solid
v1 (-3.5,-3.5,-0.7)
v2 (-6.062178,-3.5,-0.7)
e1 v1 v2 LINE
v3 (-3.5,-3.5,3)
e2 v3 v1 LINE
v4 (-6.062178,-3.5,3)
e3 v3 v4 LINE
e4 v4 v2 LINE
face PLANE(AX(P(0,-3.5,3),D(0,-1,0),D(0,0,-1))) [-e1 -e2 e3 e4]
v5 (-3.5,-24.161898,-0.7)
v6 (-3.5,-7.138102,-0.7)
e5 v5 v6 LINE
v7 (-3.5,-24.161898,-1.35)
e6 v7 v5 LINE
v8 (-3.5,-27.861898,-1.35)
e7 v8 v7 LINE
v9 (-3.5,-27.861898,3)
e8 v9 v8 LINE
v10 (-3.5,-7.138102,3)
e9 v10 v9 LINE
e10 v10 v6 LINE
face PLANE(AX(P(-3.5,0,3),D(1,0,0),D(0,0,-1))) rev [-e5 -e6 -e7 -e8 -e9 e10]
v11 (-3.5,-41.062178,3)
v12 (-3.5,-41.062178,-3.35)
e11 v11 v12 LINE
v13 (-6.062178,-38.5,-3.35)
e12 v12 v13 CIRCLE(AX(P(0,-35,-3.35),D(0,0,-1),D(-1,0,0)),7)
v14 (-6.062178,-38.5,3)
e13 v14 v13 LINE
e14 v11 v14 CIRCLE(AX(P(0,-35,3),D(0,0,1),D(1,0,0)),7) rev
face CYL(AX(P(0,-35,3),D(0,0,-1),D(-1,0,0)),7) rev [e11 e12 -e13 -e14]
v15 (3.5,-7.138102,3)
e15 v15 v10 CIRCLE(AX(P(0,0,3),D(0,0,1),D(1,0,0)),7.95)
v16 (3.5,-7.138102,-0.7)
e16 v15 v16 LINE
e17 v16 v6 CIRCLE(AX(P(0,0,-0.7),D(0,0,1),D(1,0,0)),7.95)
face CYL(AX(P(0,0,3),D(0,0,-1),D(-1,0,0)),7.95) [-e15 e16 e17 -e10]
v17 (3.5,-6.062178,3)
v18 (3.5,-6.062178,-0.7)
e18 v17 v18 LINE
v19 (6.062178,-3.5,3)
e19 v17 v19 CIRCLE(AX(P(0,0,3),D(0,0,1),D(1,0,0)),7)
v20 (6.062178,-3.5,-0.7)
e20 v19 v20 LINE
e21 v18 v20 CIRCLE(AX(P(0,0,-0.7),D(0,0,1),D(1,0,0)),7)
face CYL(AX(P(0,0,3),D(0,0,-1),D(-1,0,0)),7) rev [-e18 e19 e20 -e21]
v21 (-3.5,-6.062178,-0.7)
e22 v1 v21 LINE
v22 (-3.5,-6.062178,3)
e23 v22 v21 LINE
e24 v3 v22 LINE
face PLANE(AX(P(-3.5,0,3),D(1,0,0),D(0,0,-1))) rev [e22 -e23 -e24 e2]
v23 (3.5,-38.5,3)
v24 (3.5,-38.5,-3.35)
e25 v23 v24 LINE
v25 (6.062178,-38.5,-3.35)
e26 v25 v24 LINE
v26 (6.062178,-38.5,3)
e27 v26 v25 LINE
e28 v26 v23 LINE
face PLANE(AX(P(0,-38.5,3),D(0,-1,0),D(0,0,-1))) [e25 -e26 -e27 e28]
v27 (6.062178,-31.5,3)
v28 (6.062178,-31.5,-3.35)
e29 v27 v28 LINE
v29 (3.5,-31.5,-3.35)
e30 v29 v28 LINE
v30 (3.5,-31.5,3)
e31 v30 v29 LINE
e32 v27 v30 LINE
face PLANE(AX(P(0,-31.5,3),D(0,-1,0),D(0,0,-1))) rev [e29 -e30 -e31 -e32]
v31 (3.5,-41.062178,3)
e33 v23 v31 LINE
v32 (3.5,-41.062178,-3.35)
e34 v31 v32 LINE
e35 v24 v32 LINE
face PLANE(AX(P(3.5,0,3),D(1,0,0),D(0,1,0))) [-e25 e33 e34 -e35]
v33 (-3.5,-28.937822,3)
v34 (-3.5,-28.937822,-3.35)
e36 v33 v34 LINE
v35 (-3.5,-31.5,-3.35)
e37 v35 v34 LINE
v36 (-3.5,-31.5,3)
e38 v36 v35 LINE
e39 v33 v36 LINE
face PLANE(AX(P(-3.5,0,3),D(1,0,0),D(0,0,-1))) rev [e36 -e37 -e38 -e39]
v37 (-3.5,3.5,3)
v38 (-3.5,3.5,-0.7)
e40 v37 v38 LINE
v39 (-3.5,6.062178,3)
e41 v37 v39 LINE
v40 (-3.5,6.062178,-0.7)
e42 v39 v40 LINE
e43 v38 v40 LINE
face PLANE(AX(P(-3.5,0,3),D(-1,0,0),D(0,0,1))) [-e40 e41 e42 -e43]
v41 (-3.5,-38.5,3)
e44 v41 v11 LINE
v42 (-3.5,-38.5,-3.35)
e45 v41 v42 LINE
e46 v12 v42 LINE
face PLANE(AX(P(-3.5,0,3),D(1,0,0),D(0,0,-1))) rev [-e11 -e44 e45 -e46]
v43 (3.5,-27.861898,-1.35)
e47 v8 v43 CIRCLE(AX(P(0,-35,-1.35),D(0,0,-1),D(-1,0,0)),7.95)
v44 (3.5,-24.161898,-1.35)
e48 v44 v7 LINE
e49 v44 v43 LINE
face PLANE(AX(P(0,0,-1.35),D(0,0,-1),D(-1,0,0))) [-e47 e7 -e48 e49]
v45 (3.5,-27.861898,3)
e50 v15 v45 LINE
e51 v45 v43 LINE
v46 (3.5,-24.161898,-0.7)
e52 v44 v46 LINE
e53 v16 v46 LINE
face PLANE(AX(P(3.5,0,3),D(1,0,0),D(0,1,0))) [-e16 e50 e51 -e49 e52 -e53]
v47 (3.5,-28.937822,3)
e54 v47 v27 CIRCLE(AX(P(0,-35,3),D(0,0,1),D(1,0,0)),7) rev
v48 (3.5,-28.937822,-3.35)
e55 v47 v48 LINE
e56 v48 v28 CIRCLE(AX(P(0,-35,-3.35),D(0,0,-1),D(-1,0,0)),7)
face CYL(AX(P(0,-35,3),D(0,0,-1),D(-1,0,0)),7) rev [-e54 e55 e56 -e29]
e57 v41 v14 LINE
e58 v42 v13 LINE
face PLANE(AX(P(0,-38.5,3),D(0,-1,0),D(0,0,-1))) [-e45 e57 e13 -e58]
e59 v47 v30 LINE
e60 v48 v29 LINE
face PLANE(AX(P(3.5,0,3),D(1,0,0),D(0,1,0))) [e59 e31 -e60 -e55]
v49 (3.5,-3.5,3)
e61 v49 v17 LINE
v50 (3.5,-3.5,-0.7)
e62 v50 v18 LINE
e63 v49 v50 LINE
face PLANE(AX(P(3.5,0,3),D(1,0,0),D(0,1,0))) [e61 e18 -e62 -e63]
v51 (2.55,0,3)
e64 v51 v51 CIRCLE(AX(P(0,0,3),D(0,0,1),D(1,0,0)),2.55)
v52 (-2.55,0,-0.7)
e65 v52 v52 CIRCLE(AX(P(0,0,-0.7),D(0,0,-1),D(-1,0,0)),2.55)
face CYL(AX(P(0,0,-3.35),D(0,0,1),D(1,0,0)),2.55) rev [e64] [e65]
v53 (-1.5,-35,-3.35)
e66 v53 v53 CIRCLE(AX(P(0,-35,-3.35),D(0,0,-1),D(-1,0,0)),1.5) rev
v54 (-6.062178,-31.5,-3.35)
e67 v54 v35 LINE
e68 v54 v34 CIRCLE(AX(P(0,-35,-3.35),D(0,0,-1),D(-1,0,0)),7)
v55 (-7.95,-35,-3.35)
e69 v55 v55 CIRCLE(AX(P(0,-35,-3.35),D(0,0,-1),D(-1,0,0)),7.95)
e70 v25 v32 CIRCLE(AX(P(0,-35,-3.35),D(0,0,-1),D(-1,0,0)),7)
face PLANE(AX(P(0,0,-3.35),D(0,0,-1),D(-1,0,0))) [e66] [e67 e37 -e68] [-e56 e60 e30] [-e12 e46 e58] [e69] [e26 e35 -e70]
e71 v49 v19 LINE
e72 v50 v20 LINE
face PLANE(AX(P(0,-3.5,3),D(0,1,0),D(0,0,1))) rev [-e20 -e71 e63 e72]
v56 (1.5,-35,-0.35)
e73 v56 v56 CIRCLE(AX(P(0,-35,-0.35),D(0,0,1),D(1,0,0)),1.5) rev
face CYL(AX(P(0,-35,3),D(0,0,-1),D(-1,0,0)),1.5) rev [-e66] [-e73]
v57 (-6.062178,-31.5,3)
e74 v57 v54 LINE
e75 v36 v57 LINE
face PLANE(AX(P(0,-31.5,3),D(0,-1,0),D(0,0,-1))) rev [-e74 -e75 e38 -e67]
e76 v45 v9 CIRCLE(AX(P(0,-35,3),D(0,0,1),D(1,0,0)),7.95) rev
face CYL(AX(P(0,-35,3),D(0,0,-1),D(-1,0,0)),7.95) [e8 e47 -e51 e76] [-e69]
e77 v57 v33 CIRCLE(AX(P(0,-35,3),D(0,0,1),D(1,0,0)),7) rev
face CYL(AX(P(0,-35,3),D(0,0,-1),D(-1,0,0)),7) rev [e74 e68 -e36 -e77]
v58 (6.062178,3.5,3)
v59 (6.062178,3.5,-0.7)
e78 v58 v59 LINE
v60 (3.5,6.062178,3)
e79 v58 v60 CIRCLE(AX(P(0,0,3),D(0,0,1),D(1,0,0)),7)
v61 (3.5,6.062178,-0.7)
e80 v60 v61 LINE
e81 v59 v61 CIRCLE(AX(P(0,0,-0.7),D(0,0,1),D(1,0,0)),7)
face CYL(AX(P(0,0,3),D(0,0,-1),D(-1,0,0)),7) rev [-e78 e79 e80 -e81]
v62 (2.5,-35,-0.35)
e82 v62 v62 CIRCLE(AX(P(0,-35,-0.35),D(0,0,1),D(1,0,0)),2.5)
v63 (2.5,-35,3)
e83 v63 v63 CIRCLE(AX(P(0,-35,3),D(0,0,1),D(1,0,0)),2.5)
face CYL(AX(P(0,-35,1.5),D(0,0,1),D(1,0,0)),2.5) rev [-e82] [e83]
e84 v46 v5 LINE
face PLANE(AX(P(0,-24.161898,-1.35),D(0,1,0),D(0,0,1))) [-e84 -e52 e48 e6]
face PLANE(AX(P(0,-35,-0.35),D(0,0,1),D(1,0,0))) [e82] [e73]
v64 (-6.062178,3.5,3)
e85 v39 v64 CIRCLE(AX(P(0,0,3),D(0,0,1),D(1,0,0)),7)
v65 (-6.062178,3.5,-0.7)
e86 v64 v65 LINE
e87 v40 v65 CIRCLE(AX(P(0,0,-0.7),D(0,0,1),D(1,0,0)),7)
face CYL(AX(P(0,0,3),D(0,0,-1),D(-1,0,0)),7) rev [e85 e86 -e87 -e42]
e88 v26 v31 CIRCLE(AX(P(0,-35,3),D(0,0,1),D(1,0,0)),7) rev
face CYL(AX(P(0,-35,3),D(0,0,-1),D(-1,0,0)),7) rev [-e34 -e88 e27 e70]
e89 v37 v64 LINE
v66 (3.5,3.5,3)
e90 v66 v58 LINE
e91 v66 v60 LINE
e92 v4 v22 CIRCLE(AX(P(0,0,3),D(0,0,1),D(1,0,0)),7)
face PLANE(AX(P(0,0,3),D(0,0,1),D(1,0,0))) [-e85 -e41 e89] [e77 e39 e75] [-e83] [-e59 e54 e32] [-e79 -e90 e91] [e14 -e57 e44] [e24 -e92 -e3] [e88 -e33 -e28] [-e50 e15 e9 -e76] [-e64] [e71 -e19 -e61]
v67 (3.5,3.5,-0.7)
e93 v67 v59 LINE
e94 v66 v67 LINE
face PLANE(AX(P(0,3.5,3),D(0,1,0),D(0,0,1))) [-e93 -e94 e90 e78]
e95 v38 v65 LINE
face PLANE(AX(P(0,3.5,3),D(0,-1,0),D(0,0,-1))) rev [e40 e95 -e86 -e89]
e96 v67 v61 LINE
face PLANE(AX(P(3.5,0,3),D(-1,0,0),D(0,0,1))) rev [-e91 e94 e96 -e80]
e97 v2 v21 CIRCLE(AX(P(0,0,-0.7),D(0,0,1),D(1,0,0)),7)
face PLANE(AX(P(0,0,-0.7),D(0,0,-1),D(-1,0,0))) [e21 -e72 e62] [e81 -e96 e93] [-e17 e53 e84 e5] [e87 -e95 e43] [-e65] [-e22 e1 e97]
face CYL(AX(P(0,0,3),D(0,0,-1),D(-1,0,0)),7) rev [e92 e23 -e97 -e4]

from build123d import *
from build123d.topology import SkipClean

# Parameters (mm, degrees)
SKETCH1_R               = 3.5
SKETCH1_R_2             = 1.5
BOSS_EXTRUDE4_DEPTH     = 3
BOSS_EXTRUDE5_START     = 3
SKETCH3_R               = 1.5
BOSS_EXTRUDE5_DEPTH     = 3
SKETCH4_R               = 2.5
CUT_EXTRUDE1_DEPTH      = 1.5
SKETCH5_R               = 7
CUT_EXTRUDE2_DEPTH      = 2
SKETCH6_R               = 7.95
CUT_EXTRUDE3_DEPTH      = 1
SKETCH7_R               = 2.5
CUT_EXTRUDE4_DEPTH      = 1.85
BOSS_EXTRUDE6_START     = 0.7
SKETCH8_R               = 7.95
SKETCH8_R_2             = 7
BOSS_EXTRUDE6_DEPTH     = 0.7
BOSS_EXTRUDE8_START     = 0.7
SKETCH9_R               = 7.95
SKETCH9_R_2             = 1.5
BOSS_EXTRUDE8_DEPTH     = 0.7
BOSS_EXTRUDE9_START     = 0.7
BOSS_EXTRUDE9_DEPTH     = 0.7
CUT_EXTRUDE5_DEPTH      = 45.603755447
CUT_EXTRUDE5_DEPTH_BACK = 45.603755447
SKETCH11_W              = 3
SKETCH11_H              = 15.9
SKETCH11_W_2            = 2
BOSS_EXTRUDE10_START    = 0.65
BOSS_EXTRUDE10_DEPTH    = 0.65
BOSS_EXTRUDE11_START    = 2.65
SKETCH13_R              = 1.5
BOSS_EXTRUDE11_DEPTH    = 2.65
SKETCH14_R              = 2.55
CUT_EXTRUDE6_DEPTH      = 45.138730158


with BuildPart() as part:
    # Sketch1 → Boss-Extrude4 (new body)
    # profile 1 of 34: a face of its own
    with BuildSketch(Plane.XY):
        with BuildLine():
            Line((-3.5, 3.5), (0, 3.5))
            Line((0, 3.5), (3.5, 3.5))
            Line((3.5, 3.5), (3.5, 6.062177826))
            ThreePointArc((3.5, 6.062177826), (0, 7), (-3.5, 6.062177826))
            Line((-3.5, 6.062177826), (-3.5, 3.5))
        make_face()
    # profile 2 of 34: a face of its own
    with BuildSketch(Plane.XY):
        with BuildLine():
            ThreePointArc((3.5, 6.062177826), (4.949747468, 4.949747468), (6.062177826, 3.5))
            Line((6.062177826, 3.5), (7.138101989, 3.5))
            ThreePointArc((7.138101989, 3.5), (0, 7.95), (-7.138101989, 3.5))
            Line((-7.138101989, 3.5), (-6.062177826, 3.5))
            ThreePointArc((-6.062177826, 3.5), (-4.949747468, 4.949747468), (-3.5, 6.062177826))
            ThreePointArc((-3.5, 6.062177826), (0, 7), (3.5, 6.062177826))
        make_face()
    # profile 3 of 34: a face of its own
    with BuildSketch(Plane.XY):
        with BuildLine():
            Line((3.5, -27.861898011), (3.5, -7.138101989))
            ThreePointArc((3.5, -7.138101989), (0, -7.95), (-3.5, -7.138101989))
            Line((-3.5, -7.138101989), (-3.5, -27.861898011))
            ThreePointArc((-3.5, -27.861898011), (0, -27.05), (3.5, -27.861898011))
        make_face()
    # profile 4 of 34: a face of its own
    with BuildSketch(Plane.XY):
        with BuildLine():
            Line((-6.062177826, -38.5), (-7.138101989, -38.5))
            ThreePointArc((-7.138101989, -38.5), (0, -42.95), (7.138101989, -38.5))
            Line((7.138101989, -38.5), (6.062177826, -38.5))
            ThreePointArc((6.062177826, -38.5), (4.949747468, -39.949747468), (3.5, -41.062177826))
            ThreePointArc((3.5, -41.062177826), (0, -42), (-3.5, -41.062177826))
            ThreePointArc((-3.5, -41.062177826), (-4.949747468, -39.949747468), (-6.062177826, -38.5))
        make_face()
    # profile 5 of 34: a face of its own
    with BuildSketch(Plane.XY):
        with BuildLine():
            Line((3.5, -41.062177826), (3.5, -38.5))
            Line((3.5, -38.5), (0, -38.5))
            Line((0, -38.5), (-3.5, -38.5))
            Line((-3.5, -38.5), (-3.5, -41.062177826))
            ThreePointArc((-3.5, -41.062177826), (0, -42), (3.5, -41.062177826))
        make_face()
    # profile 6 of 34: a face of its own
    with BuildSketch(Plane.XY):
        with BuildLine():
            ThreePointArc((7.95, -35), (7.744366043, -33.203532746), (7.138101989, -31.5))
            Line((7.138101989, -31.5), (6.062177826, -31.5))
            ThreePointArc((6.062177826, -31.5), (6.761480784, -33.188266684), (7, -35))
            ThreePointArc((7, -35), (6.761480784, -36.811733316), (6.062177826, -38.5))
            Line((6.062177826, -38.5), (7.138101989, -38.5))
            ThreePointArc((7.138101989, -38.5), (7.744366043, -36.796467254), (7.95, -35))
        make_face()
    # profile 7 of 34: a face of its own
    with BuildSketch(Plane.XY):
        with BuildLine():
            Line((-6.062177826, -31.5), (-7.138101989, -31.5))
            ThreePointArc((-7.138101989, -31.5), (-7.95, -35), (-7.138101989, -38.5))
            Line((-7.138101989, -38.5), (-6.062177826, -38.5))
            ThreePointArc((-6.062177826, -38.5), (-7, -35), (-6.062177826, -31.5))
        make_face()
    # profile 8 of 34: a face of its own
    with BuildSketch(Plane.XY):
        with BuildLine():
            Line((3.5, -38.5), (3.5, -35))
            ThreePointArc((3.5, -35), (2.474873734, -37.474873734), (0, -38.5))
            Line((0, -38.5), (3.5, -38.5))
        make_face()
    # profile 9 of 34: a face of its own
    with BuildSketch(Plane.XY):
        with BuildLine():
            ThreePointArc((0, -38.5), (-2.474873734, -37.474873734), (-3.5, -35))
            Line((-3.5, -35), (-3.5, -38.5))
            Line((-3.5, -38.5), (0, -38.5))
        make_face()
    # profile 10 of 34: a face of its own
    with BuildSketch(Plane.XY):
        with BuildLine():
            ThreePointArc((7.95, -35), (7.744366043, -33.203532746), (7.138101989, -31.5))
            Line((7.138101989, -31.5), (6.062177826, -31.5))
            ThreePointArc((6.062177826, -31.5), (6.761480784, -33.188266684), (7, -35))
            ThreePointArc((7, -35), (6.761480784, -36.811733316), (6.062177826, -38.5))
            Line((6.062177826, -38.5), (7.138101989, -38.5))
            ThreePointArc((7.138101989, -38.5), (7.744366043, -36.796467254), (7.95, -35))
        make_face()
    # profile 11 of 34: a face of its own
    with BuildSketch(Plane.XY):
        with BuildLine():
            Line((-6.062177826, -31.5), (-7.138101989, -31.5))
            ThreePointArc((-7.138101989, -31.5), (-7.95, -35), (-7.138101989, -38.5))
            Line((-7.138101989, -38.5), (-6.062177826, -38.5))
            ThreePointArc((-6.062177826, -38.5), (-7, -35), (-6.062177826, -31.5))
        make_face()
    # profile 12 of 34: a face of its own
    with BuildSketch(Plane.XY):
        with Locations((0, -35)):
            Circle(SKETCH1_R)
        with Locations((0, -35)):
            Circle(SKETCH1_R_2, mode=Mode.SUBTRACT)
    # profile 13 of 34: a face of its own
    with BuildSketch(Plane.XY):
        with BuildLine():
            Line((0, -31.5), (-3.5, -31.5))
            Line((-3.5, -31.5), (-3.5, -35))
            ThreePointArc((-3.5, -35), (-2.474873734, -32.525126266), (0, -31.5))
        make_face()
    # profile 14 of 34: a face of its own
    with BuildSketch(Plane.XY):
        with BuildLine():
            Line((3.5, -35), (3.5, -31.5))
            Line((3.5, -31.5), (0, -31.5))
            ThreePointArc((0, -31.5), (2.474873734, -32.525126266), (3.5, -35))
        make_face()
    # profile 15 of 34: a face of its own
    with BuildSketch(Plane.XY):
        with BuildLine():
            Line((3.5, -31.5), (3.5, -28.937822174))
            ThreePointArc((3.5, -28.937822174), (0, -28), (-3.5, -28.937822174))
            Line((-3.5, -28.937822174), (-3.5, -31.5))
            Line((-3.5, -31.5), (0, -31.5))
            Line((0, -31.5), (3.5, -31.5))
        make_face()
    # profile 16 of 34: a face of its own
    with BuildSketch(Plane.XY):
        with BuildLine():
            Line((-3.5, -28.937822174), (-3.5, -27.861898011))
            ThreePointArc((-3.5, -27.861898011), (-5.62149891, -29.37850109), (-7.138101989, -31.5))
            Line((-7.138101989, -31.5), (-6.062177826, -31.5))
            ThreePointArc((-6.062177826, -31.5), (-4.949747468, -30.050252532), (-3.5, -28.937822174))
        make_face()
    # profile 17 of 34: a face of its own
    with BuildSketch(Plane.XY):
        with BuildLine():
            ThreePointArc((7.138101989, -31.5), (5.62149891, -29.37850109), (3.5, -27.861898011))
            Line((3.5, -27.861898011), (3.5, -28.937822174))
            ThreePointArc((3.5, -28.937822174), (4.949747468, -30.050252532), (6.062177826, -31.5))
            Line((6.062177826, -31.5), (7.138101989, -31.5))
        make_face()
    # profile 18 of 34: a face of its own
    with BuildSketch(Plane.XY):
        with BuildLine():
            Line((3.5, -28.937822174), (3.5, -27.861898011))
            ThreePointArc((3.5, -27.861898011), (0, -27.05), (-3.5, -27.861898011))
            Line((-3.5, -27.861898011), (-3.5, -28.937822174))
            ThreePointArc((-3.5, -28.937822174), (0, -28), (3.5, -28.937822174))
        make_face()
    # profile 19 of 34: a face of its own
    with BuildSketch(Plane.XY):
        with BuildLine():
            Line((-3.5, -35), (-3.5, -31.5))
            Line((-3.5, -31.5), (-6.062177826, -31.5))
            ThreePointArc((-6.062177826, -31.5), (-7, -35), (-6.062177826, -38.5))
            Line((-6.062177826, -38.5), (-3.5, -38.5))
            Line((-3.5, -38.5), (-3.5, -35))
        make_face()
    # profile 20 of 34: a face of its own
    with BuildSketch(Plane.XY):
        with BuildLine():
            Line((6.062177826, -31.5), (3.5, -31.5))
            Line((3.5, -31.5), (3.5, -35))
            Line((3.5, -35), (3.5, -38.5))
            Line((3.5, -38.5), (6.062177826, -38.5))
            ThreePointArc((6.062177826, -38.5), (6.761480784, -36.811733316), (7, -35))
            ThreePointArc((7, -35), (6.761480784, -33.188266684), (6.062177826, -31.5))
        make_face()
    # profile 21 of 34: a face of its own
    with BuildSketch(Plane.XY):
        with BuildLine():
            Line((3.5, -6.062177826), (3.5, -3.5))
            Line((3.5, -3.5), (0, -3.5))
            Line((0, -3.5), (-3.5, -3.5))
            Line((-3.5, -3.5), (-3.5, -6.062177826))
            ThreePointArc((-3.5, -6.062177826), (0, -7), (3.5, -6.062177826))
        make_face()
    # profile 22 of 34: a face of its own
    with BuildSketch(Plane.XY):
        with BuildLine():
            Line((3.5, -7.138101989), (3.5, -6.062177826))
            ThreePointArc((3.5, -6.062177826), (0, -7), (-3.5, -6.062177826))
            Line((-3.5, -6.062177826), (-3.5, -7.138101989))
            ThreePointArc((-3.5, -7.138101989), (0, -7.95), (3.5, -7.138101989))
        make_face()
    # profile 23 of 34: a face of its own
    with BuildSketch(Plane.XY):
        with BuildLine():
            Line((7.138101989, -3.5), (6.062177826, -3.5))
            ThreePointArc((6.062177826, -3.5), (4.949747468, -4.949747468), (3.5, -6.062177826))
            Line((3.5, -6.062177826), (3.5, -7.138101989))
            ThreePointArc((3.5, -7.138101989), (5.62149891, -5.62149891), (7.138101989, -3.5))
        make_face()
    # profile 24 of 34: a face of its own
    with BuildSketch(Plane.XY):
        with BuildLine():
            Line((7.138101989, 3.5), (6.062177826, 3.5))
            ThreePointArc((6.062177826, 3.5), (6.761480784, 1.811733316), (7, 0))
            ThreePointArc((7, 0), (6.761480784, -1.811733316), (6.062177826, -3.5))
            Line((6.062177826, -3.5), (7.138101989, -3.5))
            ThreePointArc((7.138101989, -3.5), (7.744366043, -1.796467254), (7.95, 0))
            ThreePointArc((7.95, 0), (7.744366043, 1.796467254), (7.138101989, 3.5))
        make_face()
    # profile 25 of 34: a face of its own
    with BuildSketch(Plane.XY):
        with BuildLine():
            Line((7.138101989, 3.5), (6.062177826, 3.5))
            ThreePointArc((6.062177826, 3.5), (6.761480784, 1.811733316), (7, 0))
            ThreePointArc((7, 0), (6.761480784, -1.811733316), (6.062177826, -3.5))
            Line((6.062177826, -3.5), (7.138101989, -3.5))
            ThreePointArc((7.138101989, -3.5), (7.744366043, -1.796467254), (7.95, 0))
            ThreePointArc((7.95, 0), (7.744366043, 1.796467254), (7.138101989, 3.5))
        make_face()
    # profile 26 of 34: a face of its own
    with BuildSketch(Plane.XY):
        with BuildLine():
            ThreePointArc((-6.062177826, -3.5), (-7, 0), (-6.062177826, 3.5))
            Line((-6.062177826, 3.5), (-7.138101989, 3.5))
            ThreePointArc((-7.138101989, 3.5), (-7.95, 0), (-7.138101989, -3.5))
            Line((-7.138101989, -3.5), (-6.062177826, -3.5))
        make_face()
    # profile 27 of 34: a face of its own
    with BuildSketch(Plane.XY):
        with BuildLine():
            ThreePointArc((-3.5, -6.062177826), (-4.949747468, -4.949747468), (-6.062177826, -3.5))
            Line((-6.062177826, -3.5), (-7.138101989, -3.5))
            ThreePointArc((-7.138101989, -3.5), (-5.62149891, -5.62149891), (-3.5, -7.138101989))
            Line((-3.5, -7.138101989), (-3.5, -6.062177826))
        make_face()
    # profile 28 of 34: a face of its own
    with BuildSketch(Plane.XY):
        with BuildLine():
            Line((-3.5, 0), (-3.5, 3.5))
            Line((-3.5, 3.5), (-6.062177826, 3.5))
            ThreePointArc((-6.062177826, 3.5), (-7, 0), (-6.062177826, -3.5))
            Line((-6.062177826, -3.5), (-3.5, -3.5))
            Line((-3.5, -3.5), (-3.5, 0))
        make_face()
    # profile 29 of 34: a face of its own
    with BuildSketch(Plane.XY):
        with BuildLine():
            Line((6.062177826, 3.5), (3.5, 3.5))
            Line((3.5, 3.5), (3.5, 0))
            Line((3.5, 0), (3.5, -3.5))
            Line((3.5, -3.5), (6.062177826, -3.5))
            ThreePointArc((6.062177826, -3.5), (6.761480784, -1.811733316), (7, 0))
            ThreePointArc((7, 0), (6.761480784, 1.811733316), (6.062177826, 3.5))
        make_face()
    # profile 30 of 34: a face of its own
    with BuildSketch(Plane.XY):
        with BuildLine():
            Line((3.5, -3.5), (3.5, 0))
            ThreePointArc((3.5, 0), (2.474873734, -2.474873734), (0, -3.5))
            Line((0, -3.5), (3.5, -3.5))
        make_face()
    # profile 31 of 34: a face of its own
    with BuildSketch(Plane.XY):
        Circle(SKETCH1_R)
        Circle(SKETCH1_R_2, mode=Mode.SUBTRACT)
    # profile 32 of 34: a face of its own
    with BuildSketch(Plane.XY):
        with BuildLine():
            ThreePointArc((0, -3.5), (-2.474873734, -2.474873734), (-3.5, 0))
            Line((-3.5, 0), (-3.5, -3.5))
            Line((-3.5, -3.5), (0, -3.5))
        make_face()
    # profile 33 of 34: a face of its own
    with BuildSketch(Plane.XY):
        with BuildLine():
            ThreePointArc((-3.5, 0), (-2.474873734, 2.474873734), (0, 3.5))
            Line((0, 3.5), (-3.5, 3.5))
            Line((-3.5, 3.5), (-3.5, 0))
        make_face()
    # profile 34 of 34: a face of its own
    with BuildSketch(Plane.XY):
        with BuildLine():
            Line((3.5, 3.5), (0, 3.5))
            ThreePointArc((0, 3.5), (2.474873734, 2.474873734), (3.5, 0))
            Line((3.5, 0), (3.5, 3.5))
        make_face()
    extrude(amount=BOSS_EXTRUDE4_DEPTH)

    # Sketch3 → Boss-Extrude5 (add)
    # profile 1 of 4: a face of its own
    with SkipClean():  # the faces are left unmerged after this step: merging them gives an invalid solid
        with BuildSketch(Plane(origin=(0, 0, 0), x_dir=(-1, 0, 0), z_dir=(0, 0, -1)).offset(BOSS_EXTRUDE5_START)):
            with BuildLine():
                ThreePointArc((3.5, -7.138101989), (6.746387922, -4.205799567), (7.95, 0))
                ThreePointArc((7.95, 0), (-4.205799567, 6.746387922), (-3.5, -7.138101989))
                ThreePointArc((-3.5, -7.138101989), (0, -7.95), (3.5, -7.138101989))
            make_face()
            with BuildLine():
                ThreePointArc((-6.062177826, 3.5), (-4.949747468, 4.949747468), (-3.5, 6.062177826))
                ThreePointArc((-3.5, 6.062177826), (0, 7), (3.5, 6.062177826))
                ThreePointArc((3.5, 6.062177826), (4.949747468, 4.949747468), (6.062177826, 3.5))
                ThreePointArc((6.062177826, 3.5), (6.761480784, 1.811733316), (7, 0))
                ThreePointArc((7, 0), (6.761480784, -1.811733316), (6.062177826, -3.5))
                ThreePointArc((6.062177826, -3.5), (4.949747468, -4.949747468), (3.5, -6.062177826))
                ThreePointArc((3.5, -6.062177826), (0, -7), (-3.5, -6.062177826))
                ThreePointArc((-3.5, -6.062177826), (-4.949747468, -4.949747468), (-6.062177826, -3.5))
                ThreePointArc((-6.062177826, -3.5), (-7, 0), (-6.062177826, 3.5))
            make_face(mode=Mode.SUBTRACT)
        # profile 2 of 4: a face of its own
        with BuildSketch(Plane(origin=(0, 0, 0), x_dir=(-1, 0, 0), z_dir=(0, 0, -1)).offset(BOSS_EXTRUDE5_START)):
            with BuildLine():
                ThreePointArc((3.5, 6.062177826), (0, 7), (-3.5, 6.062177826))
                Line((-3.5, 6.062177826), (-3.5, 3.5))
                Line((-3.5, 3.5), (-6.062177826, 3.5))
                ThreePointArc((-6.062177826, 3.5), (-7, 0), (-6.062177826, -3.5))
                Line((-6.062177826, -3.5), (-3.5, -3.5))
                Line((-3.5, -3.5), (-3.5, -6.062177826))
                ThreePointArc((-3.5, -6.062177826), (0, -7), (3.5, -6.062177826))
                Line((3.5, -6.062177826), (3.5, -3.5))
                Line((3.5, -3.5), (6.062177826, -3.5))
                ThreePointArc((6.062177826, -3.5), (6.761480784, -1.811733316), (7, 0))
                ThreePointArc((7, 0), (6.761480784, 1.811733316), (6.062177826, 3.5))
                Line((6.062177826, 3.5), (3.5, 3.5))
                Line((3.5, 3.5), (3.5, 6.062177826))
            make_face()
            Circle(SKETCH3_R, mode=Mode.SUBTRACT)
        # profile 3 of 4: a face of its own
        with BuildSketch(Plane(origin=(0, 0, 0), x_dir=(-1, 0, 0), z_dir=(0, 0, -1)).offset(BOSS_EXTRUDE5_START)):
            with BuildLine():
                ThreePointArc((-3.5, -27.861898011), (-4.205799567, -41.746387922), (7.95, -35))
                ThreePointArc((7.95, -35), (6.746387922, -30.794200433), (3.5, -27.861898011))
                ThreePointArc((3.5, -27.861898011), (0, -27.05), (-3.5, -27.861898011))
            make_face()
            with BuildLine():
                ThreePointArc((6.062177826, -38.5), (4.949747468, -39.949747468), (3.5, -41.062177826))
                ThreePointArc((3.5, -41.062177826), (0, -42), (-3.5, -41.062177826))
                ThreePointArc((-3.5, -41.062177826), (-4.949747468, -39.949747468), (-6.062177826, -38.5))
                ThreePointArc((-6.062177826, -38.5), (-7, -35), (-6.062177826, -31.5))
                ThreePointArc((-6.062177826, -31.5), (-4.949747468, -30.050252532), (-3.5, -28.937822174))
                ThreePointArc((-3.5, -28.937822174), (0, -28), (3.5, -28.937822174))
                ThreePointArc((3.5, -28.937822174), (4.949747468, -30.050252532), (6.062177826, -31.5))
                ThreePointArc((6.062177826, -31.5), (6.761480784, -33.188266684), (7, -35))
                ThreePointArc((7, -35), (6.761480784, -36.811733316), (6.062177826, -38.5))
            make_face(mode=Mode.SUBTRACT)
        # profile 4 of 4: a face of its own
        with BuildSketch(Plane(origin=(0, 0, 0), x_dir=(-1, 0, 0), z_dir=(0, 0, -1)).offset(BOSS_EXTRUDE5_START)):
            with BuildLine():
                ThreePointArc((-3.5, -41.062177826), (0, -42), (3.5, -41.062177826))
                Line((3.5, -41.062177826), (3.5, -38.5))
                Line((3.5, -38.5), (6.062177826, -38.5))
                ThreePointArc((6.062177826, -38.5), (6.761480784, -36.811733316), (7, -35))
                ThreePointArc((7, -35), (6.761480784, -33.188266684), (6.062177826, -31.5))
                Line((6.062177826, -31.5), (3.5, -31.5))
                Line((3.5, -31.5), (3.5, -28.937822174))
                ThreePointArc((3.5, -28.937822174), (0, -28), (-3.5, -28.937822174))
                Line((-3.5, -28.937822174), (-3.5, -31.5))
                Line((-3.5, -31.5), (-6.062177826, -31.5))
                ThreePointArc((-6.062177826, -31.5), (-7, -35), (-6.062177826, -38.5))
                Line((-6.062177826, -38.5), (-3.5, -38.5))
                Line((-3.5, -38.5), (-3.5, -41.062177826))
            make_face()
            with Locations((0, -35)):
                Circle(SKETCH3_R, mode=Mode.SUBTRACT)
        extrude(amount=-BOSS_EXTRUDE5_DEPTH)

    # Sketch4 → Cut-Extrude1 (cut)
    with SkipClean():  # the faces are left unmerged after this step: merging them gives an invalid solid
        with BuildSketch(Plane.XY.offset(3)):
            with Locations((0, -35)):
                Circle(SKETCH4_R)
            with Locations(Location((0, 0, 0), (0, 0, 180))):
                Circle(SKETCH4_R)
        extrude(amount=-CUT_EXTRUDE1_DEPTH, mode=Mode.SUBTRACT)

    # Sketch5 → Cut-Extrude2 (cut)
    with SkipClean():  # the faces are left unmerged after this step: merging them gives an invalid solid
        with BuildSketch(Plane(origin=(0, 0, -3), x_dir=(-1, 0, 0), z_dir=(0, 0, -1))):
            Circle(SKETCH5_R)
        extrude(amount=-CUT_EXTRUDE2_DEPTH, mode=Mode.SUBTRACT)

    # Sketch6 → Cut-Extrude3 (cut)
    with SkipClean():  # the faces are left unmerged after this step: merging them gives an invalid solid
        with BuildSketch(Plane(origin=(0, 0, -3), x_dir=(-1, 0, 0), z_dir=(0, 0, -1))):
            with Locations((0, -35)):
                Circle(SKETCH6_R)
        extrude(amount=-CUT_EXTRUDE3_DEPTH, mode=Mode.SUBTRACT)

    # Sketch7 → Cut-Extrude4 (cut)
    with SkipClean():  # the faces are left unmerged after this step: merging them gives an invalid solid
        with BuildSketch(Plane.XY.offset(1.5)):
            with Locations((0, -35)):
                Circle(SKETCH7_R)
        extrude(amount=-CUT_EXTRUDE4_DEPTH, mode=Mode.SUBTRACT)

    # Sketch8 → Boss-Extrude6 (add)
    with SkipClean():  # the faces are left unmerged after this step: merging them gives an invalid solid
        with BuildSketch(Plane(origin=(0, 0, -3), x_dir=(-1, 0, 0), z_dir=(0, 0, -1)).offset(BOSS_EXTRUDE6_START)):
            Circle(SKETCH8_R)
            Circle(SKETCH8_R_2, mode=Mode.SUBTRACT)
        extrude(amount=-BOSS_EXTRUDE6_DEPTH)

    # Sketch9 → Boss-Extrude8 (add)
    # profile 1 of 2: a face of its own
    with SkipClean():  # the faces are left unmerged after this step: merging them gives an invalid solid
        with BuildSketch(Plane(origin=(0, 0, -2), x_dir=(-1, 0, 0), z_dir=(0, 0, -1)).offset(BOSS_EXTRUDE8_START)):
            with Locations((0, -35)):
                Circle(SKETCH9_R)
            with BuildLine():
                ThreePointArc((-6.062177826, -31.5), (-4.949747468, -30.050252532), (-3.5, -28.937822174))
                ThreePointArc((-3.5, -28.937822174), (0, -28), (3.5, -28.937822174))
                ThreePointArc((3.5, -28.937822174), (4.949747468, -30.050252532), (6.062177826, -31.5))
                ThreePointArc((6.062177826, -31.5), (6.761480784, -33.188266684), (7, -35))
                ThreePointArc((7, -35), (6.761480784, -36.811733316), (6.062177826, -38.5))
                ThreePointArc((6.062177826, -38.5), (4.949747468, -39.949747468), (3.5, -41.062177826))
                ThreePointArc((3.5, -41.062177826), (0, -42), (-3.5, -41.062177826))
                ThreePointArc((-3.5, -41.062177826), (-4.949747468, -39.949747468), (-6.062177826, -38.5))
                ThreePointArc((-6.062177826, -38.5), (-7, -35), (-6.062177826, -31.5))
            make_face(mode=Mode.SUBTRACT)
        # profile 2 of 2: a face of its own
        with BuildSketch(Plane(origin=(0, 0, -2), x_dir=(-1, 0, 0), z_dir=(0, 0, -1)).offset(BOSS_EXTRUDE8_START)):
            with BuildLine():
                ThreePointArc((3.5, -28.937822174), (0, -28), (-3.5, -28.937822174))
                Line((-3.5, -28.937822174), (-3.5, -31.5))
                Line((-3.5, -31.5), (-6.062177826, -31.5))
                ThreePointArc((-6.062177826, -31.5), (-7, -35), (-6.062177826, -38.5))
                Line((-6.062177826, -38.5), (-3.5, -38.5))
                Line((-3.5, -38.5), (-3.5, -41.062177826))
                ThreePointArc((-3.5, -41.062177826), (0, -42), (3.5, -41.062177826))
                Line((3.5, -41.062177826), (3.5, -38.5))
                Line((3.5, -38.5), (6.062177826, -38.5))
                ThreePointArc((6.062177826, -38.5), (6.761480784, -36.811733316), (7, -35))
                ThreePointArc((7, -35), (6.761480784, -33.188266684), (6.062177826, -31.5))
                Line((6.062177826, -31.5), (3.5, -31.5))
                Line((3.5, -31.5), (3.5, -28.937822174))
            make_face()
            with Locations((0, -35)):
                Circle(SKETCH9_R_2, mode=Mode.SUBTRACT)
        extrude(amount=-BOSS_EXTRUDE8_DEPTH)

    # Sketch10 → Boss-Extrude9 (add)
    with SkipClean():  # the faces are left unmerged after this step: merging them gives an invalid solid
        with BuildSketch(Plane(origin=(0, 0, 0), x_dir=(-1, 0, 0), z_dir=(0, 0, -1)).offset(BOSS_EXTRUDE9_START)):
            with BuildLine():
                ThreePointArc((3.5, -7.138101989), (0, -7.95), (-3.5, -7.138101989))
                Line((-3.5, -7.138101989), (-3.5, -27.861898011))
                ThreePointArc((-3.5, -27.861898011), (0, -27.05), (3.5, -27.861898011))
                Line((3.5, -27.861898011), (3.5, -7.138101989))
            make_face()
        extrude(amount=-BOSS_EXTRUDE9_DEPTH)

    # Sketch11 → Cut-Extrude5 (cut, two sides: drawn at the far end of the back side and taken through both)
    with SkipClean():  # the faces are left unmerged after this step: merging them gives an invalid solid
        with BuildSketch(Plane(origin=(3.5, 0, 0), x_dir=(0, 0, -1), z_dir=(1, 0, 0)).offset(-CUT_EXTRUDE5_DEPTH_BACK)):
            with Locations((2.2, 0)):
                Rectangle(SKETCH11_W, SKETCH11_H)
            with Locations((1.7, -35)):
                Rectangle(SKETCH11_W_2, SKETCH11_H)
        extrude(amount=CUT_EXTRUDE5_DEPTH + CUT_EXTRUDE5_DEPTH_BACK, mode=Mode.SUBTRACT)

    # Sketch12 → Boss-Extrude10 (add)
    with SkipClean():  # the faces are left unmerged after this step: merging them gives an invalid solid
        with BuildSketch(Plane(origin=(0, 0, -0.7), x_dir=(-1, 0, 0), z_dir=(0, 0, -1)).offset(BOSS_EXTRUDE10_START)):
            with BuildLine():
                Line((-3.5, -24.161898011), (-3.5, -27.861898011))
                ThreePointArc((-3.5, -27.861898011), (0, -27.05), (3.5, -27.861898011))
                Line((3.5, -27.861898011), (3.5, -24.161898011))
                Line((3.5, -24.161898011), (-3.5, -24.161898011))
            make_face()
        extrude(amount=-BOSS_EXTRUDE10_DEPTH)

    # Sketch13 → Boss-Extrude11 (add)
    # profile 1 of 2: a face of its own
    with SkipClean():  # the faces are left unmerged after this step: merging them gives an invalid solid
        with BuildSketch(Plane(origin=(0, 0, -0.7), x_dir=(-1, 0, 0), z_dir=(0, 0, -1)).offset(BOSS_EXTRUDE11_START)):
            with BuildLine():
                ThreePointArc((-3.5, -27.861898011), (-4.205799567, -41.746387922), (7.95, -35))
                ThreePointArc((7.95, -35), (6.746387922, -30.794200433), (3.5, -27.861898011))
                ThreePointArc((3.5, -27.861898011), (0, -27.05), (-3.5, -27.861898011))
            make_face()
            with BuildLine():
                ThreePointArc((-6.062177826, -38.5), (-7, -35), (-6.062177826, -31.5))
                ThreePointArc((-6.062177826, -31.5), (-4.949747468, -30.050252532), (-3.5, -28.937822174))
                ThreePointArc((-3.5, -28.937822174), (0, -28), (3.5, -28.937822174))
                ThreePointArc((3.5, -28.937822174), (4.949747468, -30.050252532), (6.062177826, -31.5))
                ThreePointArc((6.062177826, -31.5), (6.761480784, -33.188266684), (7, -35))
                ThreePointArc((7, -35), (6.761480784, -36.811733316), (6.062177826, -38.5))
                ThreePointArc((6.062177826, -38.5), (4.949747468, -39.949747468), (3.5, -41.062177826))
                ThreePointArc((3.5, -41.062177826), (0, -42), (-3.5, -41.062177826))
                ThreePointArc((-3.5, -41.062177826), (-4.949747468, -39.949747468), (-6.062177826, -38.5))
            make_face(mode=Mode.SUBTRACT)
        # profile 2 of 2: a face of its own
        with BuildSketch(Plane(origin=(0, 0, -0.7), x_dir=(-1, 0, 0), z_dir=(0, 0, -1)).offset(BOSS_EXTRUDE11_START)):
            with BuildLine():
                Line((-3.5, -31.5), (-6.062177826, -31.5))
                ThreePointArc((-6.062177826, -31.5), (-7, -35), (-6.062177826, -38.5))
                Line((-6.062177826, -38.5), (-3.5, -38.5))
                Line((-3.5, -38.5), (-3.5, -41.062177826))
                ThreePointArc((-3.5, -41.062177826), (0, -42), (3.5, -41.062177826))
                Line((3.5, -41.062177826), (3.5, -38.5))
                Line((3.5, -38.5), (6.062177826, -38.5))
                ThreePointArc((6.062177826, -38.5), (6.761480784, -36.811733316), (7, -35))
                ThreePointArc((7, -35), (6.761480784, -33.188266684), (6.062177826, -31.5))
                Line((6.062177826, -31.5), (3.5, -31.5))
                Line((3.5, -31.5), (3.5, -28.937822174))
                ThreePointArc((3.5, -28.937822174), (0, -28), (-3.5, -28.937822174))
                Line((-3.5, -28.937822174), (-3.5, -31.5))
            make_face()
            with Locations((0, -35)):
                Circle(SKETCH13_R, mode=Mode.SUBTRACT)
        extrude(amount=-BOSS_EXTRUDE11_DEPTH)

    # Sketch14 → Cut-Extrude6 (cut, through all)
    with SkipClean():  # the faces are left unmerged after this step: merging them gives an invalid solid
        with BuildSketch(Plane.XY.offset(3)):
            Circle(SKETCH14_R)
        extrude(amount=-CUT_EXTRUDE6_DEPTH, mode=Mode.SUBTRACT)


solid = part.part
